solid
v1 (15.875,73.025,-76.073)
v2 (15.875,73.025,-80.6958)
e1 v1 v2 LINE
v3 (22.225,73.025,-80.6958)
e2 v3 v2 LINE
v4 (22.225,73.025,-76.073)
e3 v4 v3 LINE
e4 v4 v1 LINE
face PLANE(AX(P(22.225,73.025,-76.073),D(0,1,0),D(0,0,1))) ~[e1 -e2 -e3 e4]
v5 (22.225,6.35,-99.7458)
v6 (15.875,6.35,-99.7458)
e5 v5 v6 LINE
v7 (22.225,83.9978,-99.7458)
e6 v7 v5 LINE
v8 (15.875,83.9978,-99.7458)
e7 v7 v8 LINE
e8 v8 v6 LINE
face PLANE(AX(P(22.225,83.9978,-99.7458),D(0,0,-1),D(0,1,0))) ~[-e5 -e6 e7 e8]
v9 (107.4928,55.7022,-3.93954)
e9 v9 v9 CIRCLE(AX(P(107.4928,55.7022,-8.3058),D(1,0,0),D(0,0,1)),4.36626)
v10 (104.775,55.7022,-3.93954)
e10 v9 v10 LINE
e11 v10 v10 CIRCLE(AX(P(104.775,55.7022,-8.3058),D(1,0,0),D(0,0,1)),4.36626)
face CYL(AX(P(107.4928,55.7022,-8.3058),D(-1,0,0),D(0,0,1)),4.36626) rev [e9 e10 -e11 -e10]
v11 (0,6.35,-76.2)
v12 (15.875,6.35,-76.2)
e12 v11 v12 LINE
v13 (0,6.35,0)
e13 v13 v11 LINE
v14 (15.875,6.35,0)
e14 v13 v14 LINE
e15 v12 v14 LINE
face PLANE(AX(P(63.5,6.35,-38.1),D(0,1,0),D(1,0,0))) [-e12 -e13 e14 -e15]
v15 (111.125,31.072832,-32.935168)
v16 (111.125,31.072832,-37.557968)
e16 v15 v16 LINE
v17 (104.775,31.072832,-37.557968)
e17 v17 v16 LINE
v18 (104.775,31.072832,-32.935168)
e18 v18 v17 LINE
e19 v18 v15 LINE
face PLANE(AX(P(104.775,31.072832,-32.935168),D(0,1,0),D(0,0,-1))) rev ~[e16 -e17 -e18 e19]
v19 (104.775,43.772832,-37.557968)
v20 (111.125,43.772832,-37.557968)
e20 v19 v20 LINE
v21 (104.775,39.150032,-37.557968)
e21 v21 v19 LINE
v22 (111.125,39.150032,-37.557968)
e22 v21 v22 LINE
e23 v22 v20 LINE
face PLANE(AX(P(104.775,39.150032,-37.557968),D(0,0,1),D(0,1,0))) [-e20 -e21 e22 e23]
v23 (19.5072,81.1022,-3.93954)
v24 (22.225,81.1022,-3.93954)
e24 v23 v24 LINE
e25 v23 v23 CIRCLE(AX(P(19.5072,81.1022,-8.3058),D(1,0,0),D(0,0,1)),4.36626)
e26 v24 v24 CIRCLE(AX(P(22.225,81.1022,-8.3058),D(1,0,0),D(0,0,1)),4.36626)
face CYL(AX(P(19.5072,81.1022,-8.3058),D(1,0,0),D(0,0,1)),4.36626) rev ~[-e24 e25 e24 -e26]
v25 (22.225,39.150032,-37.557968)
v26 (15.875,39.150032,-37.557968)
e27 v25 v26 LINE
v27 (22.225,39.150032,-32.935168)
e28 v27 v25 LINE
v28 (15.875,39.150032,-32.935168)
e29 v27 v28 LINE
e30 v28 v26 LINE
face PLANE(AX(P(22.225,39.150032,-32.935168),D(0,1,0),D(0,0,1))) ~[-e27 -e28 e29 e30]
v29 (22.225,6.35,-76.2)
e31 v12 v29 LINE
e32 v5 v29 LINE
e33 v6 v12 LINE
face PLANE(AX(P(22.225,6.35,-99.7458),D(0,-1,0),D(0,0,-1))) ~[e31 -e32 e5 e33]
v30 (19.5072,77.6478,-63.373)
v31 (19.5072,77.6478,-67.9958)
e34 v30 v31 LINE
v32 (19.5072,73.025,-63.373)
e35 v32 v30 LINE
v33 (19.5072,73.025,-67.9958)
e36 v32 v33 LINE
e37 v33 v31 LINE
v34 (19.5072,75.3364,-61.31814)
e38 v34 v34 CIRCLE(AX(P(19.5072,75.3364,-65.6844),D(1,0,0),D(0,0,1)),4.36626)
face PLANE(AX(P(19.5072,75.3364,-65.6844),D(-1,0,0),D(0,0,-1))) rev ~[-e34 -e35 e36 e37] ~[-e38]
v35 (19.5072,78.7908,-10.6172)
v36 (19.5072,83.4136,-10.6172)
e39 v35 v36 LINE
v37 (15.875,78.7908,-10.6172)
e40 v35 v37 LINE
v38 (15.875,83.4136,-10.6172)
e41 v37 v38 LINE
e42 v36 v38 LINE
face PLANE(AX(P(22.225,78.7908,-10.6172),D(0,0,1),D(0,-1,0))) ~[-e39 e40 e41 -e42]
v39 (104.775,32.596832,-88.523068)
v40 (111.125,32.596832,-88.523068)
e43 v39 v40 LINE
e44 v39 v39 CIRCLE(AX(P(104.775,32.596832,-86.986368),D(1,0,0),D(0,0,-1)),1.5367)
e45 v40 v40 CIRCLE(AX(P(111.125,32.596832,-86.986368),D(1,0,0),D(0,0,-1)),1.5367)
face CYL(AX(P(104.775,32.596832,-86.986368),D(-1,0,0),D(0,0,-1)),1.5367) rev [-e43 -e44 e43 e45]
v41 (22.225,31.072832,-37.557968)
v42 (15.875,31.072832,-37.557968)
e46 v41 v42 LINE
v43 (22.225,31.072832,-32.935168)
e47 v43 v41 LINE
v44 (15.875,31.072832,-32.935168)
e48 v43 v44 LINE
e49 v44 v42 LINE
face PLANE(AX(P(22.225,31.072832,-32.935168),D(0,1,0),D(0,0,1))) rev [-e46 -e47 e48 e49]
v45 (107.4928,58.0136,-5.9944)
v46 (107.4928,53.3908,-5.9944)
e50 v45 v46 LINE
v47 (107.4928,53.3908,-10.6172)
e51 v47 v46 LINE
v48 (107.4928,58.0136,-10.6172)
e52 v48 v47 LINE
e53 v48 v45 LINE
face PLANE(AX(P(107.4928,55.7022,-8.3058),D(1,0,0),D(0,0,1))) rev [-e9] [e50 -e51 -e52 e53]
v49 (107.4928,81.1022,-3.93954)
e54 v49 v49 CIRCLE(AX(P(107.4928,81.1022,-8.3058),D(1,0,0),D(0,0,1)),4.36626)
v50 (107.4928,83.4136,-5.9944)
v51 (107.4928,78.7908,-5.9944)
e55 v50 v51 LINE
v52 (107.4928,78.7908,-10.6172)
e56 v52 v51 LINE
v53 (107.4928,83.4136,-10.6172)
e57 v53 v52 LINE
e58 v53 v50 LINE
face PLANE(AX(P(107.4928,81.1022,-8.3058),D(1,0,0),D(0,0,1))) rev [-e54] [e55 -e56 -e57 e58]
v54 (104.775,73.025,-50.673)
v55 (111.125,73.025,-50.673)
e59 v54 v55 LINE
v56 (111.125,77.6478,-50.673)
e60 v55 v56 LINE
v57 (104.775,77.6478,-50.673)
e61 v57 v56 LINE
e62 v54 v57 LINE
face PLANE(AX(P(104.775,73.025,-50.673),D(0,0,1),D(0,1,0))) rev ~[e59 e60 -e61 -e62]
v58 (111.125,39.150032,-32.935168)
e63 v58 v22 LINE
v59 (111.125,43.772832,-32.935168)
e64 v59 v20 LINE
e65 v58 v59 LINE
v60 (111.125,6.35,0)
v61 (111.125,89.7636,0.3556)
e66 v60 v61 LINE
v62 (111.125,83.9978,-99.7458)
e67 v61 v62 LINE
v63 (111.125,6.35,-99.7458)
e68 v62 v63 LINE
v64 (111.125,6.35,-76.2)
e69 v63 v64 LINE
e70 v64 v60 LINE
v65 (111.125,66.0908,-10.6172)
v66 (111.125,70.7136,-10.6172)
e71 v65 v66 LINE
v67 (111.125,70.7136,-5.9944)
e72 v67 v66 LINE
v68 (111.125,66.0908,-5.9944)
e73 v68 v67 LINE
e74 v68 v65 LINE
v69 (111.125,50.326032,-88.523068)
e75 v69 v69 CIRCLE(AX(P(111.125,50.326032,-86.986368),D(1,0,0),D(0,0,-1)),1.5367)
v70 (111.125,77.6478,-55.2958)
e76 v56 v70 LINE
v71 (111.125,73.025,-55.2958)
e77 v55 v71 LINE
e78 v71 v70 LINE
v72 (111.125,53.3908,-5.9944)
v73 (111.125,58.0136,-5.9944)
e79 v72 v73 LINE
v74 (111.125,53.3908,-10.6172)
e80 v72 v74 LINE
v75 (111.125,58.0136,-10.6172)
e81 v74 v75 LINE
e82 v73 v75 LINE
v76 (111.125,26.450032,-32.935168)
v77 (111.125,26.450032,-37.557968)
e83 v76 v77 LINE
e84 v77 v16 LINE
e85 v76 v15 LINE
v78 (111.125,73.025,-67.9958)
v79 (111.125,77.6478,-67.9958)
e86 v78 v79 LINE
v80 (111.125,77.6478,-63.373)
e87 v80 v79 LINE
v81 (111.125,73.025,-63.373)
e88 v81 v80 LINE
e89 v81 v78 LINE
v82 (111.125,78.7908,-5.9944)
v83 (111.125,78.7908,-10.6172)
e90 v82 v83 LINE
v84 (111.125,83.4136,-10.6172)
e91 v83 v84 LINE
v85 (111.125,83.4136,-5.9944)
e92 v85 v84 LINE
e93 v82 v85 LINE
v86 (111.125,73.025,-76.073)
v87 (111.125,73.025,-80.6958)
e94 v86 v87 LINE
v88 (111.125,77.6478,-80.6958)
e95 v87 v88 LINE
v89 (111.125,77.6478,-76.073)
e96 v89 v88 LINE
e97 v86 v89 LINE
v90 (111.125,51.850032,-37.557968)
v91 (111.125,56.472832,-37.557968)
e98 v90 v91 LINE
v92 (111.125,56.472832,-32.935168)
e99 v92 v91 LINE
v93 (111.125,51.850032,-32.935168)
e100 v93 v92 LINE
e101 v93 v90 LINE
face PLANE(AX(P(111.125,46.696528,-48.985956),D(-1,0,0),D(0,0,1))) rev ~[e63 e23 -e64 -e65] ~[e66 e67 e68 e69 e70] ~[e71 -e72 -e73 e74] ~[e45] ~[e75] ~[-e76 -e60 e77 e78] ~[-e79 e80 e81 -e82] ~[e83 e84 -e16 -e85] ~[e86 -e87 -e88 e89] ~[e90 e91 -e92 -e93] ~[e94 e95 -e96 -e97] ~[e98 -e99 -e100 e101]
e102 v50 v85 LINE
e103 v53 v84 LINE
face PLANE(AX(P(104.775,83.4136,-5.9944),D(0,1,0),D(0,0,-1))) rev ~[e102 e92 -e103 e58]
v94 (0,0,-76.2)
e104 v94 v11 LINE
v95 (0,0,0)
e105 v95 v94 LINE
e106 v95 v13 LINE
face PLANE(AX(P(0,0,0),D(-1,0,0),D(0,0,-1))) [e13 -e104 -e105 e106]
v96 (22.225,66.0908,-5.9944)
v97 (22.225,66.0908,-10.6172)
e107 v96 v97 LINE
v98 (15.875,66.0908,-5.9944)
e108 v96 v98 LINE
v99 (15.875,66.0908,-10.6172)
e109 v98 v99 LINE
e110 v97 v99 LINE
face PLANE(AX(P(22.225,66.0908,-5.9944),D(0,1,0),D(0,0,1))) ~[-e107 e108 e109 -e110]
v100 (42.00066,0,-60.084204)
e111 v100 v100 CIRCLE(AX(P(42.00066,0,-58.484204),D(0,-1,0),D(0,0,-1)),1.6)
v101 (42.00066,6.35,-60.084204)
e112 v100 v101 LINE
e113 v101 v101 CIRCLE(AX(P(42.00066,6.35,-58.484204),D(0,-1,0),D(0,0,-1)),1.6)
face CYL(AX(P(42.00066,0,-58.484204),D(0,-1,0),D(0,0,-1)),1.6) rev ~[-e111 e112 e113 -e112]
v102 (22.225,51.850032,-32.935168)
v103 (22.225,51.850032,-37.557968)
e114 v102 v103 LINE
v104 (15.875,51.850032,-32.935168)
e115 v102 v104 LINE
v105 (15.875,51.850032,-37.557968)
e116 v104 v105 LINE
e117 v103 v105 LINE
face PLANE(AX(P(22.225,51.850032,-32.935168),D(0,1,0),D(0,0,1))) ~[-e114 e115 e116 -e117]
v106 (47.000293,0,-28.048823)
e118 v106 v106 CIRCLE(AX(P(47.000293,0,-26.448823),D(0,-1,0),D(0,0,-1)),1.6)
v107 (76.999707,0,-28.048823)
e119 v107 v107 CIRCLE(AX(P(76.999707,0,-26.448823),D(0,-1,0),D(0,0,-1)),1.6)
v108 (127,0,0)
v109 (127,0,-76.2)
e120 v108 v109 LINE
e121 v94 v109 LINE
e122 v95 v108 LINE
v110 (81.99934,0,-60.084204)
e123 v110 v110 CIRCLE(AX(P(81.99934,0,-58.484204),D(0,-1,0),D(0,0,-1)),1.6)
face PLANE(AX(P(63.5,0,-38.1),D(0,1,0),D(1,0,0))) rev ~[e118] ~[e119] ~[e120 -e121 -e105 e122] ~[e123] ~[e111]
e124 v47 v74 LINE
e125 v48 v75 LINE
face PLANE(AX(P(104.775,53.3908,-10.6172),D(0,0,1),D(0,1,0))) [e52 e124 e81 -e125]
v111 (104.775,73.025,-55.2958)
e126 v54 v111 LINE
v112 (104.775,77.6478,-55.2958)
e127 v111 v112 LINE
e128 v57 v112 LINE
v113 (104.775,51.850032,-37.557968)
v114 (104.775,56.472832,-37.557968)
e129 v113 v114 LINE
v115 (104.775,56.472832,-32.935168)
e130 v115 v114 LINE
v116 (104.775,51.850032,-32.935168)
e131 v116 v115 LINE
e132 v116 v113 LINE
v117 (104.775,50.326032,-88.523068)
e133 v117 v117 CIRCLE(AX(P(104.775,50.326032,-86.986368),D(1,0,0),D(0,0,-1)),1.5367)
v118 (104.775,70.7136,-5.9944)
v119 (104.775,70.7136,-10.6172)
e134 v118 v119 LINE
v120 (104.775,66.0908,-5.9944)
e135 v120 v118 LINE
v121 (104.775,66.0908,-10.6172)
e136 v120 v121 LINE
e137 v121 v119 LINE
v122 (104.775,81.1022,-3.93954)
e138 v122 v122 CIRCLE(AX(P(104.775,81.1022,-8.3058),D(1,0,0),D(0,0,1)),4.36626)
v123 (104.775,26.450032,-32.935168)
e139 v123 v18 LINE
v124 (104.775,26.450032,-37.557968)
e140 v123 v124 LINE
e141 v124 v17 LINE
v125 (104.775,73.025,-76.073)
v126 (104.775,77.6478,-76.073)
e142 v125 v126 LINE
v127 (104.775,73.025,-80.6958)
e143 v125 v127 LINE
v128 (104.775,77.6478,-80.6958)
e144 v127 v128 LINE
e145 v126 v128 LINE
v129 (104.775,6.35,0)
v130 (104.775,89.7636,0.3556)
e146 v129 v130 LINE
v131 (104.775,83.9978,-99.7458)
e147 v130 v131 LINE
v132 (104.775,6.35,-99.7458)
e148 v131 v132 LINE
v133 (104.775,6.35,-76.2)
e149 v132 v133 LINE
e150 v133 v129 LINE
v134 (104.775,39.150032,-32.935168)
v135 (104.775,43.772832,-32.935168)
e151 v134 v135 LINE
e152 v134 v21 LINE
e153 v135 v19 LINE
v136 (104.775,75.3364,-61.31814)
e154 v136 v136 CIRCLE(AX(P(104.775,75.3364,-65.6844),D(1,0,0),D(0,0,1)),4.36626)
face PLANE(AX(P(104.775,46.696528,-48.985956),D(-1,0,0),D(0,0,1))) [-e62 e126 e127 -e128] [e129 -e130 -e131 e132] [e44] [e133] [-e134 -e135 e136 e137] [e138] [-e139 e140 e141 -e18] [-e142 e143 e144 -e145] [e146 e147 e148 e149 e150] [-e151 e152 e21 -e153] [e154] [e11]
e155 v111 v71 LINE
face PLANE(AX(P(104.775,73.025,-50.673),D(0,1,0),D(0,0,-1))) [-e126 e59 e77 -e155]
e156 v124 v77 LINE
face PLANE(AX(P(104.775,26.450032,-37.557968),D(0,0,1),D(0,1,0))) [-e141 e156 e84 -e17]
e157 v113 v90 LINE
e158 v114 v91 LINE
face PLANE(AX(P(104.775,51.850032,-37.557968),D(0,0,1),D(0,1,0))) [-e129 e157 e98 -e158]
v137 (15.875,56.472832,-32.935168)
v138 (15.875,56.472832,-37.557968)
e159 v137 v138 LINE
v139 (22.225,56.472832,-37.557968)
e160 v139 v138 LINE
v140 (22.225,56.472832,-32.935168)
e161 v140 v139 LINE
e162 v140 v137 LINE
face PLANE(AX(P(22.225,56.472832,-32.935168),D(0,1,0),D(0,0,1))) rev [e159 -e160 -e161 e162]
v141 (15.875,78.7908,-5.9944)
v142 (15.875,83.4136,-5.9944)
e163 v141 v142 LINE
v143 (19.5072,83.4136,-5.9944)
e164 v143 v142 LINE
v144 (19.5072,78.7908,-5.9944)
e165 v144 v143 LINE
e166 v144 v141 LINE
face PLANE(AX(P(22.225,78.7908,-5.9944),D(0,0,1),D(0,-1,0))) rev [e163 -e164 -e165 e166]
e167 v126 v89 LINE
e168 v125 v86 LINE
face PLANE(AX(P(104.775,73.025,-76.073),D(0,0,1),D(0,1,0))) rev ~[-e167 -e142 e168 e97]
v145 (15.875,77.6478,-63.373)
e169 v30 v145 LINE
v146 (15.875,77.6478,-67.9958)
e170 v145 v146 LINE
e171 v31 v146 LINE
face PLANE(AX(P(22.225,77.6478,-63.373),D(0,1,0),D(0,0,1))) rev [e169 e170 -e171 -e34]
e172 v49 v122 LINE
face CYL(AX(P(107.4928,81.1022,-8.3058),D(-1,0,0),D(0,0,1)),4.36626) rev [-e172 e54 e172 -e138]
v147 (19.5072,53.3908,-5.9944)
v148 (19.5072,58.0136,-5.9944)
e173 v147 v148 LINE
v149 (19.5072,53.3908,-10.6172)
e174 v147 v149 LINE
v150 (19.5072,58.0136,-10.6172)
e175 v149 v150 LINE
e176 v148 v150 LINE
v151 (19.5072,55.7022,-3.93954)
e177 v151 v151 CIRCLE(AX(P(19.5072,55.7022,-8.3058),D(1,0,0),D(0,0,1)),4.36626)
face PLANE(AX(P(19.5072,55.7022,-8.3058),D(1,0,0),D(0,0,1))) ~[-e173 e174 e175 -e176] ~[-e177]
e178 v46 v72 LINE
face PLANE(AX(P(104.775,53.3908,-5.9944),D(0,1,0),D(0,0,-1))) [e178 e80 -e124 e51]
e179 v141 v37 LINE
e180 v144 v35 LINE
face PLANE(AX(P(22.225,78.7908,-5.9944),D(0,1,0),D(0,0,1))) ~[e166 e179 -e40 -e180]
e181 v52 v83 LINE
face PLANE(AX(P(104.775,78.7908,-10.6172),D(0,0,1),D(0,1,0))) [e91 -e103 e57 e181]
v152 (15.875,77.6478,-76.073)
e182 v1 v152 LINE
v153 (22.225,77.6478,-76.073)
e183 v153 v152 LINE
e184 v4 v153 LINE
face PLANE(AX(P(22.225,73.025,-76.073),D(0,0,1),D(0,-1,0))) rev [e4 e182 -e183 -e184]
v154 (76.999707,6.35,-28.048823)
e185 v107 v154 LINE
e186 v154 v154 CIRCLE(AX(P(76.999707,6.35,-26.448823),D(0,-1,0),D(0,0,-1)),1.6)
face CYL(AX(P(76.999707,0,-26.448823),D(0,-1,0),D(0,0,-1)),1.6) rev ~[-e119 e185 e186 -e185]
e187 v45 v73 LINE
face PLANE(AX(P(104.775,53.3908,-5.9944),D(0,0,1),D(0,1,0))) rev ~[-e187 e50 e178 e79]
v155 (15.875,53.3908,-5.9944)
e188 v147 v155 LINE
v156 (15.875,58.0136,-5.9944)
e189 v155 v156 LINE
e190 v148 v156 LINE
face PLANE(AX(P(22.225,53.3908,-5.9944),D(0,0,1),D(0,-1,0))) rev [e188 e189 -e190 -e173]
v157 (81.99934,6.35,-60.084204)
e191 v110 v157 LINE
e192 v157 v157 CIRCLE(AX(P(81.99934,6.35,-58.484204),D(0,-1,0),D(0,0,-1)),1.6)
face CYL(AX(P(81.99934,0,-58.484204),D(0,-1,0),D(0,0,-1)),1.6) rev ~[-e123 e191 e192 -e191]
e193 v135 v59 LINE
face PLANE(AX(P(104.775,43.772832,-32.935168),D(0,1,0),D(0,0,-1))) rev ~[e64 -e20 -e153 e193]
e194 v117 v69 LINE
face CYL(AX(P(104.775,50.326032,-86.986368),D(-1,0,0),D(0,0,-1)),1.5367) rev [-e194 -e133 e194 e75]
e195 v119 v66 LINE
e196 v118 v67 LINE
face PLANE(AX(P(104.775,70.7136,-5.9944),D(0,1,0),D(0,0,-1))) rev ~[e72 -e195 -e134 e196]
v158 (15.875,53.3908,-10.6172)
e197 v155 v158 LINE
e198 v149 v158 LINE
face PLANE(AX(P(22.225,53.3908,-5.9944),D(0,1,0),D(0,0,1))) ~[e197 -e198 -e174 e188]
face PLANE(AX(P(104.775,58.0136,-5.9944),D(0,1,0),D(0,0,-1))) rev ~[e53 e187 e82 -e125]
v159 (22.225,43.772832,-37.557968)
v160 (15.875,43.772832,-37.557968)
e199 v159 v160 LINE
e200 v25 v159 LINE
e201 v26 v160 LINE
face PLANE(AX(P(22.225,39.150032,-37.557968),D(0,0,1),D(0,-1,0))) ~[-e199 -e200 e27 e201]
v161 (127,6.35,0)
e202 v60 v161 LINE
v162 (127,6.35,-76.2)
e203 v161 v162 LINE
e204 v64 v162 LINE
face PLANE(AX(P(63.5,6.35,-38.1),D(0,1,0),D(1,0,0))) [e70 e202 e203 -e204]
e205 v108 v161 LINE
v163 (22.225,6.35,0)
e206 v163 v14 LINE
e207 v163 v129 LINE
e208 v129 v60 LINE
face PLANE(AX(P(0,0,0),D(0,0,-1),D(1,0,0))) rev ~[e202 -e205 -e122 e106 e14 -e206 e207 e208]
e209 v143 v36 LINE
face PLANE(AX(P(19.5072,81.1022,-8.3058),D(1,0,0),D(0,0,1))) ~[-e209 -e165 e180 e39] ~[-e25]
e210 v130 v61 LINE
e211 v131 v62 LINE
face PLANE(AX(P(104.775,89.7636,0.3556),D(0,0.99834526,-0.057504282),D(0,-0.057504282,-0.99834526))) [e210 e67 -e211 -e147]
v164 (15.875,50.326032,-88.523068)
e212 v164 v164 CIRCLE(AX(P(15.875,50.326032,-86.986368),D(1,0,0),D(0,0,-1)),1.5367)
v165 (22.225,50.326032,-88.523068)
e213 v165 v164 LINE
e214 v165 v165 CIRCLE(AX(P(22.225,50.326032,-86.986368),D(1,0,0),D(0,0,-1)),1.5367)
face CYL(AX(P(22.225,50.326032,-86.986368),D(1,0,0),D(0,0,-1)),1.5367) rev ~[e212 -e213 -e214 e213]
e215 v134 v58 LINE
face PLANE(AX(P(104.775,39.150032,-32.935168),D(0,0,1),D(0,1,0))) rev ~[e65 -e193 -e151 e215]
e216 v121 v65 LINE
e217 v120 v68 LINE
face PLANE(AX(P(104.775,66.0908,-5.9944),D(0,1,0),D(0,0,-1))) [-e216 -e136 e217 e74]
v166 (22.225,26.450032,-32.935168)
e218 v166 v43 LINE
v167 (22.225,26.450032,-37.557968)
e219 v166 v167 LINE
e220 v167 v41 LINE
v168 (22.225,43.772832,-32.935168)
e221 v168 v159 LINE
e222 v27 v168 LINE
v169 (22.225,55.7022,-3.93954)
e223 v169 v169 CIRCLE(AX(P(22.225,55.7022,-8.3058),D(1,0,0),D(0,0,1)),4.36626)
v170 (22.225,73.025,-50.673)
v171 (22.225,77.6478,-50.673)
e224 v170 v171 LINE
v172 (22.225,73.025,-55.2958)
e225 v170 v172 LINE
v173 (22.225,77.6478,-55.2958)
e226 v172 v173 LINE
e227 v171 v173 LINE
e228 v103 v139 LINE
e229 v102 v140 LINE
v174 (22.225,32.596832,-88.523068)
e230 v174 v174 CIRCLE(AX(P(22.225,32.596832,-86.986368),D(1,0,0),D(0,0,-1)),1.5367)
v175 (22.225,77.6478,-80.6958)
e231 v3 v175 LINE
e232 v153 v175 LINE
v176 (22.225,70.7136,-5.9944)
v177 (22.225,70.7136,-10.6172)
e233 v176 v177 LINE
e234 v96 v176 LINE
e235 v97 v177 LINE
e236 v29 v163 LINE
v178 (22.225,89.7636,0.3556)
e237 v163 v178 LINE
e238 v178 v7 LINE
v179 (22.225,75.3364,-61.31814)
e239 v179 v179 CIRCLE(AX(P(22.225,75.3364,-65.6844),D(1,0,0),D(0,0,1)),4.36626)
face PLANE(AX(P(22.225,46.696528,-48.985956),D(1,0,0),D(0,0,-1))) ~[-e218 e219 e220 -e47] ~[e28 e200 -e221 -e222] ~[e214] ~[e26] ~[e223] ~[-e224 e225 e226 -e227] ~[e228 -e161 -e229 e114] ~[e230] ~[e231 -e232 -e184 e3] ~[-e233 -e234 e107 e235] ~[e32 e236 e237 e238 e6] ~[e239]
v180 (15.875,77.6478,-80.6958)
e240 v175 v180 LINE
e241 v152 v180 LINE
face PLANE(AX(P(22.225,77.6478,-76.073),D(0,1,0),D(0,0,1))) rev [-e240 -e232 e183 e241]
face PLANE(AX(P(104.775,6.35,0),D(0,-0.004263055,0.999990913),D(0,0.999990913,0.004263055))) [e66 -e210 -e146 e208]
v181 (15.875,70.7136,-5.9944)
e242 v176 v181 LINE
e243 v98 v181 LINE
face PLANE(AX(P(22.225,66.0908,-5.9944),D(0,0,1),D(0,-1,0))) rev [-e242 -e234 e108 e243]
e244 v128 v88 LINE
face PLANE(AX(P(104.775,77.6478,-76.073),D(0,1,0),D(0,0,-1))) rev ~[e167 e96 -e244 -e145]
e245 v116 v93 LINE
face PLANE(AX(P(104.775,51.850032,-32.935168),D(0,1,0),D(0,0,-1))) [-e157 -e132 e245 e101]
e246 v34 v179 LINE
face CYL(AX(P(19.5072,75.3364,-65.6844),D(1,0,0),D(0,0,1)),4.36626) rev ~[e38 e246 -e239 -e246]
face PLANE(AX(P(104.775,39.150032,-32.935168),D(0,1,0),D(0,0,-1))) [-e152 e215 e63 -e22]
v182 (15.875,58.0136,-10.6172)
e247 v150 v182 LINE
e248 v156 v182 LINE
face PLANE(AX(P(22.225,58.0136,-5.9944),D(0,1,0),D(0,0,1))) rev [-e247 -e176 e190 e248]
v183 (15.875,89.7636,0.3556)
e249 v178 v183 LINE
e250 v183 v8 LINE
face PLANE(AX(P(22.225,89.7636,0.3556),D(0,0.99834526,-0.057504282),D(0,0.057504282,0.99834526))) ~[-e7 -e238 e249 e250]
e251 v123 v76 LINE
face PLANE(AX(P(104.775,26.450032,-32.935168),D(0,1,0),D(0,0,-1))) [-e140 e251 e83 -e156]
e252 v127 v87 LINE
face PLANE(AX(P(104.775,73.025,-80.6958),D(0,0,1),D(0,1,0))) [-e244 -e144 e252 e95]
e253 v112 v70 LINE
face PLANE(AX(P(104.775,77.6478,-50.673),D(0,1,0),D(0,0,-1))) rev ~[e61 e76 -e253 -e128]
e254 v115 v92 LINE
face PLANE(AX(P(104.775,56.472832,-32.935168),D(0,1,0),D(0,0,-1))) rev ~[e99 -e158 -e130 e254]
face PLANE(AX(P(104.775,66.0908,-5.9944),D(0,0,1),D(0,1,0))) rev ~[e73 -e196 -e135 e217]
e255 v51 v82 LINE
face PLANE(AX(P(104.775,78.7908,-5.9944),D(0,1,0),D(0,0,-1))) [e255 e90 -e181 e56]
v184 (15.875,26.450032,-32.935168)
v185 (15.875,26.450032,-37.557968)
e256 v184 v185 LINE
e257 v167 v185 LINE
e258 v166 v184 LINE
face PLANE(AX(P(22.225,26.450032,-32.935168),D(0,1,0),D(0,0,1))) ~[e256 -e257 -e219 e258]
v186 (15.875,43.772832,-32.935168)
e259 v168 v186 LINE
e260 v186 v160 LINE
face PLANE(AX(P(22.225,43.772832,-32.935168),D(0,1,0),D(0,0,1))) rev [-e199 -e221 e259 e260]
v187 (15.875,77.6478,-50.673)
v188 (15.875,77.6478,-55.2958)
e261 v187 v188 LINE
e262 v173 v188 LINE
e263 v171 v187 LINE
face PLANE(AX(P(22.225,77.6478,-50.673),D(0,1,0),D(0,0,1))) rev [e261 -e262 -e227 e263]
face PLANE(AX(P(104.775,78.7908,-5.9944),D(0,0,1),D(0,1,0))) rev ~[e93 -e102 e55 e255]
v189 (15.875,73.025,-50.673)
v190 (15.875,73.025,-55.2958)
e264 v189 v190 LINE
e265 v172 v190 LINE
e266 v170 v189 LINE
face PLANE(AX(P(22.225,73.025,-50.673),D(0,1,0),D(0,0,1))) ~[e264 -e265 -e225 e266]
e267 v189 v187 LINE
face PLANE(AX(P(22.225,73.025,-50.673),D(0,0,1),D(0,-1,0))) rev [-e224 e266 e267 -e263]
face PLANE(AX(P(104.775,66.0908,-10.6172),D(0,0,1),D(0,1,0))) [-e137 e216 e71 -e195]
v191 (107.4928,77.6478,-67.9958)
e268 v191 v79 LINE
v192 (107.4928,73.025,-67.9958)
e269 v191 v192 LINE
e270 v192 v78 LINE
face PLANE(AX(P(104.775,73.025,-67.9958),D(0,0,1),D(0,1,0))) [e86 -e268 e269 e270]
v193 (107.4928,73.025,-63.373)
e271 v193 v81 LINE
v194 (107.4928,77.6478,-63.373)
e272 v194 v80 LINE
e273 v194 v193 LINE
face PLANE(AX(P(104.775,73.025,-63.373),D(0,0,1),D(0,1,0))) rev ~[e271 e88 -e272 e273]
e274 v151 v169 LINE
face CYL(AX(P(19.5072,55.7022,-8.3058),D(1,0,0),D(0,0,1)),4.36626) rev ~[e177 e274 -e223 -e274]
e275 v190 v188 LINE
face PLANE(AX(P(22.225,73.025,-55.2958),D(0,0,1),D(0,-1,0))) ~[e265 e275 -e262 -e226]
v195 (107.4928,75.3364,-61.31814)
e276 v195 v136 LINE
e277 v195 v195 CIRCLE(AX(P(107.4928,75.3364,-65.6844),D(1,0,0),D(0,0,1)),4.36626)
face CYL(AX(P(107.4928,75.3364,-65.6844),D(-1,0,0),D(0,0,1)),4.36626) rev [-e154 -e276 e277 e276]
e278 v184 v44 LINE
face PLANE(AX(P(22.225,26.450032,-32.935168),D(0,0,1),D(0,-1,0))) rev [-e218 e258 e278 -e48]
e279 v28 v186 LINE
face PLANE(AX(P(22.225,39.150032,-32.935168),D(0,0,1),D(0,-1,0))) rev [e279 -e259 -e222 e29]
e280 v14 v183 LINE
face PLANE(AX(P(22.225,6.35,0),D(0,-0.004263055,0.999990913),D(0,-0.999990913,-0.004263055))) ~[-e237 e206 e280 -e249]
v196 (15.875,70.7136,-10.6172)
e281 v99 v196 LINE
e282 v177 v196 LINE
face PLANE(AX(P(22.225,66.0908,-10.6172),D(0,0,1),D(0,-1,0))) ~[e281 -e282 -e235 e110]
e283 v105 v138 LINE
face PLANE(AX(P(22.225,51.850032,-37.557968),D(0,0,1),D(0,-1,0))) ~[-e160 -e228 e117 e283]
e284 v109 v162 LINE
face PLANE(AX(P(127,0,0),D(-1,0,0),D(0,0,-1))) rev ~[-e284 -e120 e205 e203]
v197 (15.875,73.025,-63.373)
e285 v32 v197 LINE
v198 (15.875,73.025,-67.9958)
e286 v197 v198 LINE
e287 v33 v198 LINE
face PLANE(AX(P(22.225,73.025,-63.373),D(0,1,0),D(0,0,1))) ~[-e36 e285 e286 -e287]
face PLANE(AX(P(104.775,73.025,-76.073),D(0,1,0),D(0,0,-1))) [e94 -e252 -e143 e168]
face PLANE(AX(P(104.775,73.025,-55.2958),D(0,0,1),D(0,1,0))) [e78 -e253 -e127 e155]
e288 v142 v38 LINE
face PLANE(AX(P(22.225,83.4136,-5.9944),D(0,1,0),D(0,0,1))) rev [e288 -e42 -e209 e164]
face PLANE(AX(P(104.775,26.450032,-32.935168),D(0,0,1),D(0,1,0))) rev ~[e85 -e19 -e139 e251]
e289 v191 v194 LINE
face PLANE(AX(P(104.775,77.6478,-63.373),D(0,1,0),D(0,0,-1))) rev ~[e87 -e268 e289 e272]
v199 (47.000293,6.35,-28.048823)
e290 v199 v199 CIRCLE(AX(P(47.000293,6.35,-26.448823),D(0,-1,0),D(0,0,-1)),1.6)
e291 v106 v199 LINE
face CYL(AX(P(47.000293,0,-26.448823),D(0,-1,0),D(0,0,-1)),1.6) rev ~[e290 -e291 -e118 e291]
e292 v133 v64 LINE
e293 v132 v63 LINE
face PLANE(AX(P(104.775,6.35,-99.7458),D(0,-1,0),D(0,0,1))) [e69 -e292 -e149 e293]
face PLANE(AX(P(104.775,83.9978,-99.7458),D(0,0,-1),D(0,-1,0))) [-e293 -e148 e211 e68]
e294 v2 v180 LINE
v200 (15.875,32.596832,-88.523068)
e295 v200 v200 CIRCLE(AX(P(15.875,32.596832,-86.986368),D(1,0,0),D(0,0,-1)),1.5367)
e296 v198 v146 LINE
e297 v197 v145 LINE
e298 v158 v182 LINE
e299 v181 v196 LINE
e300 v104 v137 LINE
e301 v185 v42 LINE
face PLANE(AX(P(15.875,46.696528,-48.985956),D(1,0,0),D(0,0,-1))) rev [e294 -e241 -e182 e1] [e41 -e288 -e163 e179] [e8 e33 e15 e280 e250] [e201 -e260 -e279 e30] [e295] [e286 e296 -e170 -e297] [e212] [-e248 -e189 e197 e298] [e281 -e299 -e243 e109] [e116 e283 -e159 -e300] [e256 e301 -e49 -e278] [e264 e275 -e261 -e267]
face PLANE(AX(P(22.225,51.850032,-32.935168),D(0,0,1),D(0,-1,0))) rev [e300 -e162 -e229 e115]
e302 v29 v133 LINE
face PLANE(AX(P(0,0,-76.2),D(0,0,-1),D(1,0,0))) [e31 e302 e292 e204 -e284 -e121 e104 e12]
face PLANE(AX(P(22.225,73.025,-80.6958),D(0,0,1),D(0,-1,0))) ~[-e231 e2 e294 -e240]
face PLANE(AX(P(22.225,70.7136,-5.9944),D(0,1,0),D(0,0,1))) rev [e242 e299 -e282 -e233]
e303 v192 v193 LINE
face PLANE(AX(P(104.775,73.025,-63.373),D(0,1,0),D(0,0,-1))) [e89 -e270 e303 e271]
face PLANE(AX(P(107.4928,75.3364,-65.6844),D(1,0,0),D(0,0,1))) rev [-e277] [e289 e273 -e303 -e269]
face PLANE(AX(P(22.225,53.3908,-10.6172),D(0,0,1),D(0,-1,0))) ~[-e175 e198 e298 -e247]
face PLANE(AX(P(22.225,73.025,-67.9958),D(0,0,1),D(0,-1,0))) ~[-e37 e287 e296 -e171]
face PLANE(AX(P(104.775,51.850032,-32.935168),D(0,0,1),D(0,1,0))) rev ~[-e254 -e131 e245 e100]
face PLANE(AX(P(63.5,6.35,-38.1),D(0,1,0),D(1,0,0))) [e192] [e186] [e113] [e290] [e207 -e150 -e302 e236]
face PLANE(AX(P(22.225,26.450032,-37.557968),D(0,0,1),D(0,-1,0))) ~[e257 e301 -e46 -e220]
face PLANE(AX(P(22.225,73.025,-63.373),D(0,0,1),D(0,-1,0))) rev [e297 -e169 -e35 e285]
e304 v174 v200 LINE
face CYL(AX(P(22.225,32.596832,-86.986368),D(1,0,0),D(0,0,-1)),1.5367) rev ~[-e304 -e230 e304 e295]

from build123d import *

# Parameters (mm, degrees)
SKETCH1_W                                     = 127
SKETCH1_H                                     = 76.2
BOSS_EXTRUDE1_DEPTH                           = 6.35
SKETCH3_R                                     = 1.5367
SKETCH3_W                                     = 4.6228
SKETCH3_H                                     = 4.6228
BOSS_EXTRUDE2_DEPTH                           = 6.35
CBORE_FOR_8_BUTTON_HEAD_CAP_SCREW1_AT_2_COUNT = 2
CBORE_FOR_8_BUTTON_HEAD_CAP_SCREW1_AT_2_PITCH = 57.667566167
CBORE_FOR_8_BUTTON_HEAD_CAP_SCREW1_AT_3_COUNT = 2
CBORE_FOR_8_BUTTON_HEAD_CAP_SCREW1_AT_3_PITCH = 60.644913617
SKETCH4_R                                     = 1.6
CUT_EXTRUDE1_DEPTH                            = 185.758568144


with BuildPart() as part:
    # Sketch1 → Boss-Extrude1 (new body)
    with BuildSketch(Plane(origin=(0, 0, 0), x_dir=(1, 0, 0), z_dir=(0, 1, 0))):
        with Locations((63.5, 38.1)):
            Rectangle(SKETCH1_W, SKETCH1_H)
    extrude(amount=BOSS_EXTRUDE1_DEPTH)

    # Sketch3 → Boss-Extrude2 (add)
    with BuildSketch(Plane(origin=(104.775, 0, 0), x_dir=(0, 0, -1), z_dir=(1, 0, 0))):
        Polygon((0, 6.35), (-0.3556, 89.7636), (99.7458, 83.9978), (99.7458, 6.35), align=None)
        with Locations((86.986368363, 50.326031637)):
            Circle(SKETCH3_R, mode=Mode.SUBTRACT)
        with Locations((86.986368363, 32.596831637)):
            Circle(SKETCH3_R, mode=Mode.SUBTRACT)
        with Locations((8.3058, 55.7022)):
            Rectangle(SKETCH3_W, SKETCH3_H, mode=Mode.SUBTRACT)
        with Locations((8.3058, 68.4022)):
            Rectangle(SKETCH3_W, SKETCH3_H, mode=Mode.SUBTRACT)
        with Locations((35.246568363, 41.461431637)):
            Rectangle(SKETCH3_W, SKETCH3_H, mode=Mode.SUBTRACT)
        with Locations((78.3844, 75.3364)):
            Rectangle(SKETCH3_W, SKETCH3_H, mode=Mode.SUBTRACT)
        with Locations((8.3058, 81.1022)):
            Rectangle(SKETCH3_W, SKETCH3_H, mode=Mode.SUBTRACT)
        with Locations((35.246568363, 54.161431637)):
            Rectangle(SKETCH3_W, SKETCH3_H, mode=Mode.SUBTRACT)
        with Locations((35.246568363, 28.761431637)):
            Rectangle(SKETCH3_W, SKETCH3_H, mode=Mode.SUBTRACT)
        with Locations((65.6844, 75.3364)):
            Rectangle(SKETCH3_W, SKETCH3_H, mode=Mode.SUBTRACT)
        with Locations((52.9844, 75.3364)):
            Rectangle(SKETCH3_W, SKETCH3_H, mode=Mode.SUBTRACT)
    boss_extrude2 = extrude(amount=BOSS_EXTRUDE2_DEPTH)

    # Sketch6 → CBORE for #8 Button Head Cap Screw1 (revolve, cut)
    with BuildSketch(Plane(origin=(104.775, 75.3364, -65.6844), x_dir=(0, 0, 1), z_dir=(0, 1, 0))):
        Polygon((0, 0), (0, 22.225), (2.2479, 22.225), (2.2479, 2.7178), (4.36626, 2.7178), (4.36626, 0), align=None)
    cbore_for_8_button_head_cap_screw1 = revolve(axis=Axis((98.425, 75.3364, -65.6844), (1, 0, 0)), mode=Mode.SUBTRACT)

    # CBORE for #8 Button Head Cap Screw1 at 2: CBORE for #8 Button Head Cap Screw1 ×2
    with Locations(*[Vector(0, 0.09998341153022382, 0.9949891041708838) * (i * CBORE_FOR_8_BUTTON_HEAD_CAP_SCREW1_AT_2_PITCH) for i in range(1, CBORE_FOR_8_BUTTON_HEAD_CAP_SCREW1_AT_2_COUNT)]):
        add(cbore_for_8_button_head_cap_screw1, mode=Mode.SUBTRACT)

    # CBORE for #8 Button Head Cap Screw1 at 3: CBORE for #8 Button Head Cap Screw1 ×2
    with Locations(*[Vector(0, -0.32375674774697566, 0.9461403533769719) * (i * CBORE_FOR_8_BUTTON_HEAD_CAP_SCREW1_AT_3_PITCH) for i in range(1, CBORE_FOR_8_BUTTON_HEAD_CAP_SCREW1_AT_3_COUNT)]):
        add(cbore_for_8_button_head_cap_screw1, mode=Mode.SUBTRACT)

    # Mirror1: Boss-Extrude2, CBORE for #8 Button Head Cap Screw1 across plane
    add(boss_extrude2.mirror(Plane(origin=(63.5, 0, 0), x_dir=(0, 0, 1), z_dir=(1, 0, 0))))
    add(cbore_for_8_button_head_cap_screw1.mirror(Plane(origin=(63.5, 0, 0), x_dir=(0, 0, 1), z_dir=(1, 0, 0))), mode=Mode.SUBTRACT)

    # Mirror1 copy 1 sketch → Mirror1 copy 1 (revolve, cut)
    with BuildSketch(Plane(origin=(22.225, 81.1022, -8.3058), x_dir=(0, 0, 1), z_dir=(0, 1, 0))):
        Polygon((0, 0), (0, -22.225), (2.2479, -22.225), (2.2479, -2.7178), (4.36626, -2.7178), (4.36626, 0), align=None)
    revolve(axis=Axis((28.575, 81.1022, -8.3058), (1, 0, 0)), mode=Mode.SUBTRACT)

    # Mirror1 copy 2 sketch → Mirror1 copy 2 (revolve, cut)
    with BuildSketch(Plane(origin=(22.225, 55.7022, -8.3058), x_dir=(0, 0, 1), z_dir=(0, 1, 0))):
        Polygon((0, 0), (0, -22.225), (2.2479, -22.225), (2.2479, -2.7178), (4.36626, -2.7178), (4.36626, 0), align=None)
    revolve(axis=Axis((28.575, 55.7022, -8.3058), (1, 0, 0)), mode=Mode.SUBTRACT)

    # Sketch4 → Cut-Extrude1 (cut, through all)
    with BuildSketch(Plane.XZ):
        with Locations(Location((76.999706662, -26.448823052, 0), (0, 0, 270))):
            Circle(SKETCH4_R)
        with Locations(Location((47.000293338, -26.448823052, 0), (0, 0, 270))):
            Circle(SKETCH4_R)
        with Locations(Location((81.99934001, -58.48420412, 0), (0, 0, 270))):
            Circle(SKETCH4_R)
        with Locations(Location((42.00065999, -58.48420412, 0), (0, 0, 270))):
            Circle(SKETCH4_R)
    extrude(amount=-CUT_EXTRUDE1_DEPTH, mode=Mode.SUBTRACT)


solid = part.part
